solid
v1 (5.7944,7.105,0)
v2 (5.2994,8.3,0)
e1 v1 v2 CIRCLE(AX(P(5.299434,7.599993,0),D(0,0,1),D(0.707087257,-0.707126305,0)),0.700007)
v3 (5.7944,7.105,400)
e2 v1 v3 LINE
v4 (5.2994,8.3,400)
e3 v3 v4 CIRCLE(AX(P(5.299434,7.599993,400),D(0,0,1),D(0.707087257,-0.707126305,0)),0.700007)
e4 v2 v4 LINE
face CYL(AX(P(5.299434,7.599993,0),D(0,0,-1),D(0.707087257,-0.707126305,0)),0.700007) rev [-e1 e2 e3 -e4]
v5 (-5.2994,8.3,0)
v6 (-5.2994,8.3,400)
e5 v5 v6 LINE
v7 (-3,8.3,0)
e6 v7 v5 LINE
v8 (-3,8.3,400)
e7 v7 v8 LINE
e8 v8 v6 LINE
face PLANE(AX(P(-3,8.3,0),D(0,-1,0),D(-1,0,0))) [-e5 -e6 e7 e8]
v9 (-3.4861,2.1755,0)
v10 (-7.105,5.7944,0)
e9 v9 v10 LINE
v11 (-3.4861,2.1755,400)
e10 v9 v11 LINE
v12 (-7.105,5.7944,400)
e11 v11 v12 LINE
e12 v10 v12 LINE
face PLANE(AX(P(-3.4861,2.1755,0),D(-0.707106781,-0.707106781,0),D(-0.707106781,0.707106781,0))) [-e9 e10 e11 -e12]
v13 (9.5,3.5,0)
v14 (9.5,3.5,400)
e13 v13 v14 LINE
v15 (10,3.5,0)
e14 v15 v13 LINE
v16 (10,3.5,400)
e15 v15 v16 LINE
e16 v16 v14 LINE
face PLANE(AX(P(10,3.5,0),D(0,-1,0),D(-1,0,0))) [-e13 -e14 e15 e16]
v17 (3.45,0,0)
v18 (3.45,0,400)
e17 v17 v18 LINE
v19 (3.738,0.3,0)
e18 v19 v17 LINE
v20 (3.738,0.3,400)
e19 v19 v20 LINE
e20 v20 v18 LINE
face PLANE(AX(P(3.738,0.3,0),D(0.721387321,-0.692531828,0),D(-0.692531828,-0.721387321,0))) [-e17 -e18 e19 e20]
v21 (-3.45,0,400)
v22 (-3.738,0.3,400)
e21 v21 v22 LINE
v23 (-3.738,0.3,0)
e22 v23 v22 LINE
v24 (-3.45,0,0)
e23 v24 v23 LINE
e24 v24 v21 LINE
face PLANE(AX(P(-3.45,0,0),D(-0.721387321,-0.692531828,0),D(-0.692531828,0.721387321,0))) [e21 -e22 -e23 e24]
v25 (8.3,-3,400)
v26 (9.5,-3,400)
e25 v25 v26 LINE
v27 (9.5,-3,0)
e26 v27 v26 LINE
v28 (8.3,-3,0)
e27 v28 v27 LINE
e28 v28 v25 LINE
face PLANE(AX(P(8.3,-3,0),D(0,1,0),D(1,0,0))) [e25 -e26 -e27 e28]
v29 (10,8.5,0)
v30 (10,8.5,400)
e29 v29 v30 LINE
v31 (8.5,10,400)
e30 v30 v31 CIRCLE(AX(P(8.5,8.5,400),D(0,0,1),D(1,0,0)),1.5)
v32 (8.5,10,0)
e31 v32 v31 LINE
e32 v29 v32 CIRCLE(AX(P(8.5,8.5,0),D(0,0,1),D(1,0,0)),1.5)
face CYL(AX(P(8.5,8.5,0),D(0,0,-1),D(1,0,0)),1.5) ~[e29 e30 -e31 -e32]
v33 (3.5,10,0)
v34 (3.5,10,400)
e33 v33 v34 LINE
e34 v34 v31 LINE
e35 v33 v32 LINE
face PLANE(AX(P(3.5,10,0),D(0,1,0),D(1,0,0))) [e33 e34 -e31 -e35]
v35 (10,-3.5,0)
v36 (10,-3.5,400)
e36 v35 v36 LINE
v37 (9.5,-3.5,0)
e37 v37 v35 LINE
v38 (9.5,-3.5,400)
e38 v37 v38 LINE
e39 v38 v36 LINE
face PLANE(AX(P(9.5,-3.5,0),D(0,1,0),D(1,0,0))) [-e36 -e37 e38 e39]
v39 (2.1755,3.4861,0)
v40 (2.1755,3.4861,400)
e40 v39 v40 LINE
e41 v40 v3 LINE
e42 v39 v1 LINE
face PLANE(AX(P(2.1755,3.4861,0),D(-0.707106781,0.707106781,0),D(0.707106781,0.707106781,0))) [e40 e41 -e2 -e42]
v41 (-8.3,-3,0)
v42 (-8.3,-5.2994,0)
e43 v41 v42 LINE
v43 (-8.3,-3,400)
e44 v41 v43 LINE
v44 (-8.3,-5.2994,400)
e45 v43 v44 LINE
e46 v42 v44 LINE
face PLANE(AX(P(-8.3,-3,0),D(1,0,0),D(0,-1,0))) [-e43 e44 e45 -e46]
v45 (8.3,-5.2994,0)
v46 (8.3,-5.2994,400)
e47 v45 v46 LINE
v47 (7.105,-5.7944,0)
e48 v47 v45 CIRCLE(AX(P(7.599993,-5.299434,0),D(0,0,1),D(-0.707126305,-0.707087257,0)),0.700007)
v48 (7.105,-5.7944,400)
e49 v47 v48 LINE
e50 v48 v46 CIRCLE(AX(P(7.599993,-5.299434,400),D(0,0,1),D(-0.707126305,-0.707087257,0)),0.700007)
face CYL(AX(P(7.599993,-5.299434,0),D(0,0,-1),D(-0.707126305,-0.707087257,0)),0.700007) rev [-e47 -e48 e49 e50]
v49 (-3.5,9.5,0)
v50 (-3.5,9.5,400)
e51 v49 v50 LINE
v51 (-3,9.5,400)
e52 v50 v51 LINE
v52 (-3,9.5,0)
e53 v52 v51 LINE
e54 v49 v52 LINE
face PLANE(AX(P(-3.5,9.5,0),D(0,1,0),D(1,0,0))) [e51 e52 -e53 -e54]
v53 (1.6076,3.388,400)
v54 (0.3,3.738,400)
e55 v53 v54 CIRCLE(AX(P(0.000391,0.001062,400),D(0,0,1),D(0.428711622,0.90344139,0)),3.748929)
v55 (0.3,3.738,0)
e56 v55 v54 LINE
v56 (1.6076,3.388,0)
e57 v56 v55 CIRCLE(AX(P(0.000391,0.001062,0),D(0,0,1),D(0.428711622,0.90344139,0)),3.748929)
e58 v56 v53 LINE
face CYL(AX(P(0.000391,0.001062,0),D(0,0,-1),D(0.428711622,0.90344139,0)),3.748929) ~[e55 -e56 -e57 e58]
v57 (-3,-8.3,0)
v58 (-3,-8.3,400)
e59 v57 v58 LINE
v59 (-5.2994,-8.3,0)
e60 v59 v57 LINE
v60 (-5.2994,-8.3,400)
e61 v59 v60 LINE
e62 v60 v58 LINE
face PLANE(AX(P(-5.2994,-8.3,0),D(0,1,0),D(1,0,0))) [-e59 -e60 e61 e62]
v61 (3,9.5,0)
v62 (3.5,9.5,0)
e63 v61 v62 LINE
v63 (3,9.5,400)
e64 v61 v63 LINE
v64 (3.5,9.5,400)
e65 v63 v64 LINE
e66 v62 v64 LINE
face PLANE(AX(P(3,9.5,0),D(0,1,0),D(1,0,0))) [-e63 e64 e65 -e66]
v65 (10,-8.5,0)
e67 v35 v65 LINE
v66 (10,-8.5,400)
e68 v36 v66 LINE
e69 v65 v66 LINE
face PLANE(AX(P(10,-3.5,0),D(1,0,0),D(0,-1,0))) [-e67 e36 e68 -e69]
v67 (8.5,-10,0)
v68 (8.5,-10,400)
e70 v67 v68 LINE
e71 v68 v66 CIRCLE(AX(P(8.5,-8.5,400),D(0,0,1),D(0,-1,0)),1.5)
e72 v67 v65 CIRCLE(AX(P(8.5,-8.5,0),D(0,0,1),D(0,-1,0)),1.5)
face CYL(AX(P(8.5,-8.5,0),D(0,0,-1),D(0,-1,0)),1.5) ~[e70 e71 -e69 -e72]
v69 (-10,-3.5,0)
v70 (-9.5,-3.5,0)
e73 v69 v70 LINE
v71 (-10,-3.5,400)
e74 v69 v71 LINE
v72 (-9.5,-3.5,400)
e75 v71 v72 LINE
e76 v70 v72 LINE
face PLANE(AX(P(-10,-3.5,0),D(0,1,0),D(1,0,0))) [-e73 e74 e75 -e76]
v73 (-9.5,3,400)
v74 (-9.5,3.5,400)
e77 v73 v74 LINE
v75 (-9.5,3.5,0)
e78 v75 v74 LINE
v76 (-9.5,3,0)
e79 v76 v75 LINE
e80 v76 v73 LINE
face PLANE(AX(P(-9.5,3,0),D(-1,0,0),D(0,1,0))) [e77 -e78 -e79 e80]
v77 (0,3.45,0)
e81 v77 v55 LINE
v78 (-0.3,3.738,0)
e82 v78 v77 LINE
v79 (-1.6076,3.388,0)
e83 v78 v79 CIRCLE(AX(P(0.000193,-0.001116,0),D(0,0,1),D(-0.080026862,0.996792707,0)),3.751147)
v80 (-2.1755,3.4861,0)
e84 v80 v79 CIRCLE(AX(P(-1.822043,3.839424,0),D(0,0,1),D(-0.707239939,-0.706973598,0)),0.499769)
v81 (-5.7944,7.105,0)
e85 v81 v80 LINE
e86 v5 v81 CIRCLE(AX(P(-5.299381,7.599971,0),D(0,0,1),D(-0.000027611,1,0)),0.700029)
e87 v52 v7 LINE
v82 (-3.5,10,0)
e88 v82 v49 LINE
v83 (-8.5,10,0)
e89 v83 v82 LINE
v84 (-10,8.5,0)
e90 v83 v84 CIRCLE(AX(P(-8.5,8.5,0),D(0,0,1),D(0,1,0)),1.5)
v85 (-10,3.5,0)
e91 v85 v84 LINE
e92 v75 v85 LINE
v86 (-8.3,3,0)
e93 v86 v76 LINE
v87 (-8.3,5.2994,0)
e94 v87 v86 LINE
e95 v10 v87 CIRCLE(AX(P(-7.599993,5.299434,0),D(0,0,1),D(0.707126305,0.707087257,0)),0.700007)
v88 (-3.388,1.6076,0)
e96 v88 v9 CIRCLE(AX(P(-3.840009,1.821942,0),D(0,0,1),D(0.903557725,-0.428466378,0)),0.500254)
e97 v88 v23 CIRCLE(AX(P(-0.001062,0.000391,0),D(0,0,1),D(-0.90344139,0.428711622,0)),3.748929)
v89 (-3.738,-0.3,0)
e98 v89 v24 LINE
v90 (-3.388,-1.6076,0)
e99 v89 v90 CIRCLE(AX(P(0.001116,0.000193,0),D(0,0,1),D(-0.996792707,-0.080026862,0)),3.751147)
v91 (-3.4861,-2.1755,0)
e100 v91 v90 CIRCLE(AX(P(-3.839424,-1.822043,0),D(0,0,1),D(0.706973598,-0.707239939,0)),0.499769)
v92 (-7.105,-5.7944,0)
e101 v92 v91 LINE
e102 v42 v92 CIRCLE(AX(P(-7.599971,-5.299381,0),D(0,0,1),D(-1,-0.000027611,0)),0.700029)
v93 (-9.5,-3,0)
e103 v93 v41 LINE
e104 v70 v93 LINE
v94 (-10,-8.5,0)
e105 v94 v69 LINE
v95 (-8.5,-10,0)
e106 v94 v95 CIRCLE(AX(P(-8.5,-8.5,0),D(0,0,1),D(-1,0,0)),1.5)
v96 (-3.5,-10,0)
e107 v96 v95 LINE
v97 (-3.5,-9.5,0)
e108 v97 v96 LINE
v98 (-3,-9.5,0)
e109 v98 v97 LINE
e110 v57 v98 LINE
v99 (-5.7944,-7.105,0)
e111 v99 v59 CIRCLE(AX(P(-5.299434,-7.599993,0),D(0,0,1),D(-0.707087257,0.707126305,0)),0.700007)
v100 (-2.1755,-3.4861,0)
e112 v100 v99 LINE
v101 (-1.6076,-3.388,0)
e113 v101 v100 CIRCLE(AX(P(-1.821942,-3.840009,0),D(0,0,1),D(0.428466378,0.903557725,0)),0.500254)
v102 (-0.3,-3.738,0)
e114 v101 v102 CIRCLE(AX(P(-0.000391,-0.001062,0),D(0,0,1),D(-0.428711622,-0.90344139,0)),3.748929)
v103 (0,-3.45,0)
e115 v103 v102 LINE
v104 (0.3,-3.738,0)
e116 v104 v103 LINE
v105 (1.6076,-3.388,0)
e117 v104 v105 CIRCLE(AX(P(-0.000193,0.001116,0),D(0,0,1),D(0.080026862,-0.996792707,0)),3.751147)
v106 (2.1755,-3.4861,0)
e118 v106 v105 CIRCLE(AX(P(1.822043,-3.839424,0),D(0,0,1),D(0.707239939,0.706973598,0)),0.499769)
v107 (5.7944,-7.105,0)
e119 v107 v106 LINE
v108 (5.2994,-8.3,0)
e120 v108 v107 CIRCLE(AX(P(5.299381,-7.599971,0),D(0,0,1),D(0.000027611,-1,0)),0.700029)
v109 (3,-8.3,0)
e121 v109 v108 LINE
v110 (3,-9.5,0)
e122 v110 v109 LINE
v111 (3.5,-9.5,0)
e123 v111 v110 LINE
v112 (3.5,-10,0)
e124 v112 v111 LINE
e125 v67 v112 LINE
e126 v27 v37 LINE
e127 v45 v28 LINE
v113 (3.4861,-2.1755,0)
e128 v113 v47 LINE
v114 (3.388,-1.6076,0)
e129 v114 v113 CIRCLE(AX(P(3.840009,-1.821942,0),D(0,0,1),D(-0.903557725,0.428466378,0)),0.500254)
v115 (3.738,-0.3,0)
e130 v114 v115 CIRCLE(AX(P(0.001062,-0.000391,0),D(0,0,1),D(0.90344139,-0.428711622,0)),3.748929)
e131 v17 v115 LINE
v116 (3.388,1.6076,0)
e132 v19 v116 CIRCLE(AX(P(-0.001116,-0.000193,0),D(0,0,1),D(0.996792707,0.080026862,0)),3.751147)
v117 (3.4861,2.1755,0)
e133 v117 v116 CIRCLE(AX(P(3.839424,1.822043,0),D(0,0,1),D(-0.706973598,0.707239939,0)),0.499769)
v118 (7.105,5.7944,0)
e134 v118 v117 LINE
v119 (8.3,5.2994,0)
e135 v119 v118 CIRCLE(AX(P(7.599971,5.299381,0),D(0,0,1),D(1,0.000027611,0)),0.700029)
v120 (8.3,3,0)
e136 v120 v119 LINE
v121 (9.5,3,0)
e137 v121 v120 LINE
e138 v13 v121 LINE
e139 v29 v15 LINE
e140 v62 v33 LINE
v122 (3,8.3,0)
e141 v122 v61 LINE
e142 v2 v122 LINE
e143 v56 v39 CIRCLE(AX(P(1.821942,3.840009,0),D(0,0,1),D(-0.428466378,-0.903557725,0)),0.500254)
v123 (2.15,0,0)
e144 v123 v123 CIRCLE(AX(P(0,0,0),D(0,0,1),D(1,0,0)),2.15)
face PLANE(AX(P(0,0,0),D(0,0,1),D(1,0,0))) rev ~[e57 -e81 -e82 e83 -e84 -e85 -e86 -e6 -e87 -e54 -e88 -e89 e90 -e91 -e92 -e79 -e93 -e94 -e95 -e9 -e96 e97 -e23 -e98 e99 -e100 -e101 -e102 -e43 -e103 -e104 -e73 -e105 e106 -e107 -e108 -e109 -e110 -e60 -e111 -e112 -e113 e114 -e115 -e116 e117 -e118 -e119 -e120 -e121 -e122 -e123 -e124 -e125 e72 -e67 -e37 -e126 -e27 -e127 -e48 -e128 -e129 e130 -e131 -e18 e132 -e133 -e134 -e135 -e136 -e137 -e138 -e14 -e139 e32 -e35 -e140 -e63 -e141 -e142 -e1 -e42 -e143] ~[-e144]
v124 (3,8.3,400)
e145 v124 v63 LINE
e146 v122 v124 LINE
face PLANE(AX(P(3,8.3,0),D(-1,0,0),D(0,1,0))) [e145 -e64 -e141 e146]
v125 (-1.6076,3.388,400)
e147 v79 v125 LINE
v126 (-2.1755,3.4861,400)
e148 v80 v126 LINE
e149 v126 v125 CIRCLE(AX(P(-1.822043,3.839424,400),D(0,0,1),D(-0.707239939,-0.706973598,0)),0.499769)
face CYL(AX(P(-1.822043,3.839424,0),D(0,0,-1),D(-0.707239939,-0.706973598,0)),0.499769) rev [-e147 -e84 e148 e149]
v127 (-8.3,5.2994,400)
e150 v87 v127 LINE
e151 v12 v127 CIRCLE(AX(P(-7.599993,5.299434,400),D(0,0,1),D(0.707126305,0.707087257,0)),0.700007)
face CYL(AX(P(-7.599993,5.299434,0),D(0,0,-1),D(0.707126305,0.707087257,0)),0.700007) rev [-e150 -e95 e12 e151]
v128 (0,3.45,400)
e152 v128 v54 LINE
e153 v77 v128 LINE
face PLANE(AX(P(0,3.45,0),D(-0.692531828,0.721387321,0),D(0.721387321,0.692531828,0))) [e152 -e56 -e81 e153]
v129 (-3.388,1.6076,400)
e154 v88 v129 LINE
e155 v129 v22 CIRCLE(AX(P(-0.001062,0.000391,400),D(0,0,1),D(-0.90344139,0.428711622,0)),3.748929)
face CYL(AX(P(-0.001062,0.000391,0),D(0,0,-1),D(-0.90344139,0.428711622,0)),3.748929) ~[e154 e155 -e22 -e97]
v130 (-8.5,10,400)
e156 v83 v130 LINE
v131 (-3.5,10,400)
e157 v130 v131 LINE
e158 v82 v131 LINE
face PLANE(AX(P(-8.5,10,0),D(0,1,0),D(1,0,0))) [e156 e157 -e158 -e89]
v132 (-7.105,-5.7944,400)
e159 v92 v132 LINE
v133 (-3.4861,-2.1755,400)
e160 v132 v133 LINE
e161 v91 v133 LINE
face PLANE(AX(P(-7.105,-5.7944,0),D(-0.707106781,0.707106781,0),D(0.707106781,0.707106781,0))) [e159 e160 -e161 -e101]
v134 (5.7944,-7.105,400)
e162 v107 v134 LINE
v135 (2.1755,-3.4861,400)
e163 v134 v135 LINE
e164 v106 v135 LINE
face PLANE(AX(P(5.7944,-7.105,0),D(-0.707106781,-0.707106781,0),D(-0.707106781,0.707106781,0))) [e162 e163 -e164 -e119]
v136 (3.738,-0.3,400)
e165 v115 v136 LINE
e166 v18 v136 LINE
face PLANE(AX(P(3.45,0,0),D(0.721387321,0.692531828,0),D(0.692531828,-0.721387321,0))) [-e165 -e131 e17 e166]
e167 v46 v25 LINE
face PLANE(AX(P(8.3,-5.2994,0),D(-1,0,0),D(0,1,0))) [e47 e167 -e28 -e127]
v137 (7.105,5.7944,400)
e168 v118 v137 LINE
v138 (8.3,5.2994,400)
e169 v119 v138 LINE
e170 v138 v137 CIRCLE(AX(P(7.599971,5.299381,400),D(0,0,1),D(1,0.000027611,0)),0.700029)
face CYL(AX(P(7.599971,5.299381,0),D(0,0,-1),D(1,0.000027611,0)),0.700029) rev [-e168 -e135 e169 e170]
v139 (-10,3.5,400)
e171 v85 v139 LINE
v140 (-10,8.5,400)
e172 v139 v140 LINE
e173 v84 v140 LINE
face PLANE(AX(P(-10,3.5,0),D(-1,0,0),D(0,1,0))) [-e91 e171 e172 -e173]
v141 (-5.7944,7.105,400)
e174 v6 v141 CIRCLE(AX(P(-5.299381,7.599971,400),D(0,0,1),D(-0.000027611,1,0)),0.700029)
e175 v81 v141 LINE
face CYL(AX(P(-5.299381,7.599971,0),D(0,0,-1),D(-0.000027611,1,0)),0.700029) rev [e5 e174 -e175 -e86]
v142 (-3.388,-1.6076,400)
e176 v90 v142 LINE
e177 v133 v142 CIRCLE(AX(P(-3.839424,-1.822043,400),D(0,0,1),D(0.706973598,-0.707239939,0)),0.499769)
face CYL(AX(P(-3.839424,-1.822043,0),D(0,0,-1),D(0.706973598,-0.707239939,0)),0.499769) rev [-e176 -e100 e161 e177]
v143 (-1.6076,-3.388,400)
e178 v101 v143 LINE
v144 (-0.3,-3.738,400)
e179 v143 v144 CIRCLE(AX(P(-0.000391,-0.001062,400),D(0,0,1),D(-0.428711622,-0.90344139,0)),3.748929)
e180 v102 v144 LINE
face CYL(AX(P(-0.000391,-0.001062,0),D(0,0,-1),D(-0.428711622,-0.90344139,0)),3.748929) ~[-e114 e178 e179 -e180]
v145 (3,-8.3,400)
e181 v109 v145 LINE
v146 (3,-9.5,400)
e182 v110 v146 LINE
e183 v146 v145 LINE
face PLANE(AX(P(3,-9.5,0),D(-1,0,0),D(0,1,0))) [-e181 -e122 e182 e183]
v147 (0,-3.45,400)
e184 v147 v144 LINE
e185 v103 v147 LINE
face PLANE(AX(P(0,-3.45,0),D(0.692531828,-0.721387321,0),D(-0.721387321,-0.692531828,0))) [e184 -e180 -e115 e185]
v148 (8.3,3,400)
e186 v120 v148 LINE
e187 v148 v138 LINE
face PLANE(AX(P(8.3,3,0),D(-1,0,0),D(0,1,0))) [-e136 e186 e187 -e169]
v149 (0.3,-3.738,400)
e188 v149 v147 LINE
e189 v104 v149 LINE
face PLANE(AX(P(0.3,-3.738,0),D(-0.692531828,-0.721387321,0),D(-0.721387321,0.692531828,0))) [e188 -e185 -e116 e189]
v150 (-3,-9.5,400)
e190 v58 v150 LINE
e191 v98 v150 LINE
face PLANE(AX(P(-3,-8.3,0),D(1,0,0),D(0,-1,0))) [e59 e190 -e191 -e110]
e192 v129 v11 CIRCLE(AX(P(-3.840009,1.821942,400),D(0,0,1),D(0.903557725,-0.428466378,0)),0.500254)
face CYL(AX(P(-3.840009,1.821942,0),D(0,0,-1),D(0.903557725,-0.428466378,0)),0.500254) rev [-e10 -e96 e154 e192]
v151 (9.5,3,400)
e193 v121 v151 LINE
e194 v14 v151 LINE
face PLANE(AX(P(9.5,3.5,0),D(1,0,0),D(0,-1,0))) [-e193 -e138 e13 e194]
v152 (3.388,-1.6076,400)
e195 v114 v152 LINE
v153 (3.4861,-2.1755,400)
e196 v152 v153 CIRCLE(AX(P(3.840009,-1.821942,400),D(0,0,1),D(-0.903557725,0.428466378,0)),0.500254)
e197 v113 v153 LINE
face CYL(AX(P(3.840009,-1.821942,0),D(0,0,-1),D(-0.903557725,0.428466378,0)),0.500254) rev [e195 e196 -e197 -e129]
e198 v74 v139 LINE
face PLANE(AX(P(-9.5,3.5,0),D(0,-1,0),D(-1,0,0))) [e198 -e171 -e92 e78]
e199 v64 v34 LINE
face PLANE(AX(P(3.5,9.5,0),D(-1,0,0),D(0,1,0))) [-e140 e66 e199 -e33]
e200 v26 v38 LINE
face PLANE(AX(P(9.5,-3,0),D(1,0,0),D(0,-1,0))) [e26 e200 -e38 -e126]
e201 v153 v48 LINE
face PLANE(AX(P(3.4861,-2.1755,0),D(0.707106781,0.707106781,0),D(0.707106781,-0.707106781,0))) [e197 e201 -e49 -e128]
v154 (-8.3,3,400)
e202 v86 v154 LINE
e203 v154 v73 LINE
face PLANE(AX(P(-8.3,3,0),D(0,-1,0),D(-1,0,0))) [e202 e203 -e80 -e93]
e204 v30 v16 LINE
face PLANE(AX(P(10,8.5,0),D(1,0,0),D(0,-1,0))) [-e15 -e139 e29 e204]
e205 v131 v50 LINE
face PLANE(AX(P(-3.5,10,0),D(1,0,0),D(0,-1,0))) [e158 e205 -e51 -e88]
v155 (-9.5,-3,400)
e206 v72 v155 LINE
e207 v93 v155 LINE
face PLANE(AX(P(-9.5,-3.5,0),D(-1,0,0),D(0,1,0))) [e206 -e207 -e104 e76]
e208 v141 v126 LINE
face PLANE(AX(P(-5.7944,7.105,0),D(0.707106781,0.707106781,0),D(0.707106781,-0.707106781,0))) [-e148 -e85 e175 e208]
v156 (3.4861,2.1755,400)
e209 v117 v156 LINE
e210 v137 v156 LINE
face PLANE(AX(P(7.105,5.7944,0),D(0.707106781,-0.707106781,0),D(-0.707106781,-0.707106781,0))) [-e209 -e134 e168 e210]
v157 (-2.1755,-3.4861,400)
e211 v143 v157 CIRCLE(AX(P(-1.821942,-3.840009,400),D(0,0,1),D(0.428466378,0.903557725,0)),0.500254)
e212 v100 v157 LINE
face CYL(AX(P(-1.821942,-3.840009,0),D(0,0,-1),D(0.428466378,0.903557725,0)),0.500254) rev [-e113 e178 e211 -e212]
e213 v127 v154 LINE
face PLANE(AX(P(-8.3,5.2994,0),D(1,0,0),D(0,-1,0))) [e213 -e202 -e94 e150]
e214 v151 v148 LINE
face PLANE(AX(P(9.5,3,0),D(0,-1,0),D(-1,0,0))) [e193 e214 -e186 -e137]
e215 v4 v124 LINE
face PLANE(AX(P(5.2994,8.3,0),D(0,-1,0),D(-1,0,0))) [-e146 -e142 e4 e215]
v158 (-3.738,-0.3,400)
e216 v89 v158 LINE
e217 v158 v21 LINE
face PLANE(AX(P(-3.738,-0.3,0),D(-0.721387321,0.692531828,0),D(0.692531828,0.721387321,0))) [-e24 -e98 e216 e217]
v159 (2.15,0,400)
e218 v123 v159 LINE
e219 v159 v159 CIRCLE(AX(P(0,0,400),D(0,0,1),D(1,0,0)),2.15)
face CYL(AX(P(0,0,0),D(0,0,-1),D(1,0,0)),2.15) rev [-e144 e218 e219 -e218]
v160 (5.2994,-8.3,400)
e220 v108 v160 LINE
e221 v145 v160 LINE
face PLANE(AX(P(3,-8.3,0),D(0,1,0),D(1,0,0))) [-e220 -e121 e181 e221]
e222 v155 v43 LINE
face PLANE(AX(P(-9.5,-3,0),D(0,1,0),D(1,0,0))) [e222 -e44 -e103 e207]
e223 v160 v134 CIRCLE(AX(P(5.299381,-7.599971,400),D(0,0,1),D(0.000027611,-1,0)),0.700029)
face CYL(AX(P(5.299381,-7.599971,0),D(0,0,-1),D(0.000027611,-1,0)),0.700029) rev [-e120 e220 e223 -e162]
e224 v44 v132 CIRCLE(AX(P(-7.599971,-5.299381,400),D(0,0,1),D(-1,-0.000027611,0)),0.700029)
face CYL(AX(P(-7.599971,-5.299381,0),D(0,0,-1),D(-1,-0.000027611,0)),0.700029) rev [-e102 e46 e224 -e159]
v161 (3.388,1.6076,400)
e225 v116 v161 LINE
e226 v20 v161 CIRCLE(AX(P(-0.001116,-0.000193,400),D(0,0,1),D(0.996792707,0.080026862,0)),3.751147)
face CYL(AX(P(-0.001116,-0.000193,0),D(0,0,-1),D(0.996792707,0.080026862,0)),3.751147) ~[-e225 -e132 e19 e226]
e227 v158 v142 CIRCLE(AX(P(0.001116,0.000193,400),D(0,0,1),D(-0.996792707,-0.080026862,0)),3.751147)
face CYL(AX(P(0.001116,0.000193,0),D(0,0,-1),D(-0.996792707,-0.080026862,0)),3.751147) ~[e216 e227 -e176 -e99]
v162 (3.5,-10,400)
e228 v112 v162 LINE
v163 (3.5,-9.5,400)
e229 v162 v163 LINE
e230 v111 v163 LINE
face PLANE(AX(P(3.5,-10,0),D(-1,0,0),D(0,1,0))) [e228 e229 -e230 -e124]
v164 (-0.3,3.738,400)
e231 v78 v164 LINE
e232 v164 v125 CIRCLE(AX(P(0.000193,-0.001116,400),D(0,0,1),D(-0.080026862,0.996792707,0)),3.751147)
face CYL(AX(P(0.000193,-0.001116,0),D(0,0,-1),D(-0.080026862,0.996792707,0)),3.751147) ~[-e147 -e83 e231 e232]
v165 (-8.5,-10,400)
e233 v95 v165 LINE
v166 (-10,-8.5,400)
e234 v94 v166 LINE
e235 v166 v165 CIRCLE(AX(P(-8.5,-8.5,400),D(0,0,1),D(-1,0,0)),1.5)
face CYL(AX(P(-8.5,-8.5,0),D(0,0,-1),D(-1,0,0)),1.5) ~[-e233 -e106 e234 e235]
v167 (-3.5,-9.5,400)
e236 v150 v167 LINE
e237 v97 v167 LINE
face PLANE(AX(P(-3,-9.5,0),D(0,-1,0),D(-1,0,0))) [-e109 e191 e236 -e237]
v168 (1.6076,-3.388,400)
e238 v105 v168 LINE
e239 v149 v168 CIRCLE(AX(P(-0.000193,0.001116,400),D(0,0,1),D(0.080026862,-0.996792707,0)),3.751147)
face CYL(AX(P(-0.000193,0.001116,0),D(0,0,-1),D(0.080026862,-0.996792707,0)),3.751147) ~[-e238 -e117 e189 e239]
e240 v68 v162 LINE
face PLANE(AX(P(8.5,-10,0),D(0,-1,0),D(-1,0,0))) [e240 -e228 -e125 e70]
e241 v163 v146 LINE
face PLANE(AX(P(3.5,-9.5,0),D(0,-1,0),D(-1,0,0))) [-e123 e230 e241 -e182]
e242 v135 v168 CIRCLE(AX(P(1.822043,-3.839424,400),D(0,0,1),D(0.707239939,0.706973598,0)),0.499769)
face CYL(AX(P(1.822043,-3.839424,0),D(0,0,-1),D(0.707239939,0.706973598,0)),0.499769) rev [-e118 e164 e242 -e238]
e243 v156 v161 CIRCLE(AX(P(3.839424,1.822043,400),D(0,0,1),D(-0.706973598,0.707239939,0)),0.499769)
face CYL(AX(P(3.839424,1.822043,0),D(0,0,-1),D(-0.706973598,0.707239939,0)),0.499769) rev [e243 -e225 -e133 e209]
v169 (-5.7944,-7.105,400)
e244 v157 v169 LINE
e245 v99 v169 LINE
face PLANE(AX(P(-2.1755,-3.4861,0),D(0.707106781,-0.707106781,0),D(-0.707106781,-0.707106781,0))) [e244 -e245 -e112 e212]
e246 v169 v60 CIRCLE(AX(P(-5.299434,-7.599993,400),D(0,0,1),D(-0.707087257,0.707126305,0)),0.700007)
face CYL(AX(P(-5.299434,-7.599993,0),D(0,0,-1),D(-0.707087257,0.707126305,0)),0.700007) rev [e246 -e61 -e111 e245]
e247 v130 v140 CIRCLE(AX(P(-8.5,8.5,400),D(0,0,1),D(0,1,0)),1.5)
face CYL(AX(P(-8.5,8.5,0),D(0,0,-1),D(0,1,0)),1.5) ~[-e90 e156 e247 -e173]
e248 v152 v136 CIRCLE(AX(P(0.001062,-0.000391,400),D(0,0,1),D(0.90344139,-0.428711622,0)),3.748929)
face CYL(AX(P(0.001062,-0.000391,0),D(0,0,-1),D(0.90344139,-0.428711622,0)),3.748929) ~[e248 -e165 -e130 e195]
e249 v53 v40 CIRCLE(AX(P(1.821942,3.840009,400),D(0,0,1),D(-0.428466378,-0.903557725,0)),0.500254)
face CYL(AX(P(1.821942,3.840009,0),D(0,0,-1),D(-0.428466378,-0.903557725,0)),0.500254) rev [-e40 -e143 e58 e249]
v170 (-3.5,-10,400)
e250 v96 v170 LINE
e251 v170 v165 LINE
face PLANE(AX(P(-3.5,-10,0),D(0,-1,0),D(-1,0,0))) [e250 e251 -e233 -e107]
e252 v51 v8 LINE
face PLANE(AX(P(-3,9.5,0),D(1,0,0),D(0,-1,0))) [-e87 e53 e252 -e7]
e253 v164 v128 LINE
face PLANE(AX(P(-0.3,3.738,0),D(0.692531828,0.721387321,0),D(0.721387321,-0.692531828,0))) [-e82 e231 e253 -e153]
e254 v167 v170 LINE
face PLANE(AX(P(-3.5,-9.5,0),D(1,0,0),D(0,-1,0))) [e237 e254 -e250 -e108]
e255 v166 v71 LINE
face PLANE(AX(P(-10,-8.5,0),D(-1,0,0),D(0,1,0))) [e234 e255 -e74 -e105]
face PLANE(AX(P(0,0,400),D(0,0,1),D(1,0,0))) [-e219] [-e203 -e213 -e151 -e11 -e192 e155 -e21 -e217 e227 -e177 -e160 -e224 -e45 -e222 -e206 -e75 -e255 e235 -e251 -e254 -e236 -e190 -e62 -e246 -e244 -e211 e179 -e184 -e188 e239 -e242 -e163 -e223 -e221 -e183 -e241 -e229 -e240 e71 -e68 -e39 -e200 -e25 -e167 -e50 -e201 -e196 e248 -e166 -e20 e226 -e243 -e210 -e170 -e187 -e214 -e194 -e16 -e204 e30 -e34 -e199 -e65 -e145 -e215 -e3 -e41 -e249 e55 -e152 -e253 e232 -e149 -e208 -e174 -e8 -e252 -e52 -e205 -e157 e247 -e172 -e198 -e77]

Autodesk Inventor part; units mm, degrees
ref_plane "YZ Plane" through (0, 0, 0) normal (1, 0, 0) x (0, 1, 0)
ref_plane "XZ Plane" through (0, 0, 0) normal (0, 1, 0) x (-1, 0, 0)
ref_plane "XY Plane" through (0, 0, 0) normal (0, 0, 1) x (1, 0, 0)
sketch "Skizze1" plane through (0, 0, 0) normal (0, 0, 1) x (1, 0, 0)
  circle A0 centre (0, 0) radius 2.15
  line L0 (-3.5, -9.5) -> (-3.5, -10)
  line L1 (-3, -9.5) -> (-3.5, -9.5)
  line L2 (-3, -8.3) -> (-3, -9.5)
  line L3 (-5.2994, -8.3) -> (-3, -8.3)
  arc A1 (-5.7944, -7.105) -> (-5.2994, -8.3) centre (-5.2994, -7.6) ccw
  line L4 (-2.1755, -3.4861) -> (-5.7944, -7.105)
  arc A2 (-1.6076, -3.388) -> (-2.1755, -3.4861) centre (-1.8219, -3.8397) ccw
  arc A3 (-1.6076, -3.388) -> (-0.3, -3.738) centre (0, 0) ccw
  line L5 (0, -3.45) -> (-0.3, -3.738)
  line L6 (0.3, -3.738) -> (0, -3.45)
  arc A4 (0.3, -3.738) -> (1.6076, -3.388) centre (0, 0) ccw
  arc A5 (2.1755, -3.4861) -> (1.6076, -3.388) centre (1.8219, -3.8397) ccw
  line L7 (5.7944, -7.105) -> (2.1755, -3.4861)
  arc A6 (5.2994, -8.3) -> (5.7944, -7.105) centre (5.2994, -7.6) ccw
  line L8 (3, -8.3) -> (5.2994, -8.3)
  line L9 (3, -9.5) -> (3, -8.3)
  line L10 (3.5, -9.5) -> (3, -9.5)
  line L11 (3.5, -10) -> (3.5, -9.5)
  line L12 (8.5, -10) -> (3.5, -10)
  arc A7 (8.5, -10) -> (10, -8.5) centre (8.5, -8.5) ccw
  line L13 (10, -3.5) -> (10, -8.5)
  line L14 (9.5, -3.5) -> (10, -3.5)
  line L15 (9.5, -3) -> (9.5, -3.5)
  line L16 (8.3, -3) -> (9.5, -3)
  line L17 (8.3, -5.2994) -> (8.3, -3)
  arc A8 (7.105, -5.7944) -> (8.3, -5.2994) centre (7.6, -5.2994) ccw
  line L18 (3.4861, -2.1755) -> (7.105, -5.7944)
  arc A9 (3.388, -1.6076) -> (3.4861, -2.1755) centre (3.8397, -1.8219) ccw
  arc A10 (3.388, -1.6076) -> (3.738, -0.3) centre (0, 0) ccw
  line L19 (3.45, 0) -> (3.738, -0.3)
  line L20 (3.738, 0.3) -> (3.45, 0)
  arc A11 (3.738, 0.3) -> (3.388, 1.6076) centre (0, 0) ccw
  arc A12 (3.4861, 2.1755) -> (3.388, 1.6076) centre (3.8397, 1.8219) ccw
  line L21 (7.105, 5.7944) -> (3.4861, 2.1755)
  arc A13 (8.3, 5.2994) -> (7.105, 5.7944) centre (7.6, 5.2994) ccw
  line L22 (8.3, 3) -> (8.3, 5.2994)
  line L23 (9.5, 3) -> (8.3, 3)
  line L24 (9.5, 3.5) -> (9.5, 3)
  line L25 (10, 3.5) -> (9.5, 3.5)
  line L26 (10, 8.5) -> (10, 3.5)
  arc A14 (10, 8.5) -> (8.5, 10) centre (8.5, 8.5) ccw
  line L27 (3.5, 10) -> (8.5, 10)
  line L28 (3.5, 9.5) -> (3.5, 10)
  line L29 (3, 9.5) -> (3.5, 9.5)
  line L30 (3, 8.3) -> (3, 9.5)
  line L31 (5.2994, 8.3) -> (3, 8.3)
  arc A15 (5.7944, 7.105) -> (5.2994, 8.3) centre (5.2994, 7.6) ccw
  line L32 (2.1755, 3.4861) -> (5.7944, 7.105)
  arc A16 (1.6076, 3.388) -> (2.1755, 3.4861) centre (1.8219, 3.8397) ccw
  arc A17 (1.6076, 3.388) -> (0.3, 3.738) centre (0, 0) ccw
  line L33 (0, 3.45) -> (0.3, 3.738)
  line L34 (-0.3, 3.738) -> (0, 3.45)
  arc A18 (-0.3, 3.738) -> (-1.6076, 3.388) centre (0, 0) ccw
  arc A19 (-2.1755, 3.4861) -> (-1.6076, 3.388) centre (-1.8219, 3.8397) ccw
  line L35 (-5.7944, 7.105) -> (-2.1755, 3.4861)
  arc A20 (-5.2994, 8.3) -> (-5.7944, 7.105) centre (-5.2994, 7.6) ccw
  line L36 (-3, 8.3) -> (-5.2994, 8.3)
  line L37 (-3, 9.5) -> (-3, 8.3)
  line L38 (-3.5, 9.5) -> (-3, 9.5)
  line L39 (-3.5, 10) -> (-3.5, 9.5)
  line L40 (-8.5, 10) -> (-3.5, 10)
  arc A21 (-8.5, 10) -> (-10, 8.5) centre (-8.5, 8.5) ccw
  line L41 (-10, 3.5) -> (-10, 8.5)
  line L42 (-9.5, 3.5) -> (-10, 3.5)
  line L43 (-9.5, 3) -> (-9.5, 3.5)
  line L44 (-8.3, 3) -> (-9.5, 3)
  line L45 (-8.3, 5.2994) -> (-8.3, 3)
  arc A22 (-7.105, 5.7944) -> (-8.3, 5.2994) centre (-7.6, 5.2994) ccw
  line L46 (-3.4861, 2.1755) -> (-7.105, 5.7944)
  arc A23 (-3.388, 1.6076) -> (-3.4861, 2.1755) centre (-3.8397, 1.8219) ccw
  arc A24 (-3.388, 1.6076) -> (-3.738, 0.3) centre (0, 0) ccw
  line L47 (-3.45, 0) -> (-3.738, 0.3)
  line L48 (-3.738, -0.3) -> (-3.45, 0)
  arc A25 (-3.738, -0.3) -> (-3.388, -1.6076) centre (0, 0) ccw
  arc A26 (-3.4861, -2.1755) -> (-3.388, -1.6076) centre (-3.8397, -1.8219) ccw
  line L49 (-7.105, -5.7944) -> (-3.4861, -2.1755)
  arc A27 (-8.3, -5.2994) -> (-7.105, -5.7944) centre (-7.6, -5.2994) ccw
  line L50 (-8.3, -3) -> (-8.3, -5.2994)
  line L51 (-9.5, -3) -> (-8.3, -3)
  line L52 (-9.5, -3.5) -> (-9.5, -3)
  line L53 (-10, -3.5) -> (-9.5, -3.5)
  line L54 (-10, -8.5) -> (-10, -3.5)
  arc A28 (-10, -8.5) -> (-8.5, -10) centre (-8.5, -8.5) ccw
  line L55 (-3.5, -10) -> (-8.5, -10)
  point P0 (18.4588, -14.4564)
extrude "Extrusion1" add sketch "Skizze1" along normal blind 400
properties part number "400mm" material "Aluminium 6061"
